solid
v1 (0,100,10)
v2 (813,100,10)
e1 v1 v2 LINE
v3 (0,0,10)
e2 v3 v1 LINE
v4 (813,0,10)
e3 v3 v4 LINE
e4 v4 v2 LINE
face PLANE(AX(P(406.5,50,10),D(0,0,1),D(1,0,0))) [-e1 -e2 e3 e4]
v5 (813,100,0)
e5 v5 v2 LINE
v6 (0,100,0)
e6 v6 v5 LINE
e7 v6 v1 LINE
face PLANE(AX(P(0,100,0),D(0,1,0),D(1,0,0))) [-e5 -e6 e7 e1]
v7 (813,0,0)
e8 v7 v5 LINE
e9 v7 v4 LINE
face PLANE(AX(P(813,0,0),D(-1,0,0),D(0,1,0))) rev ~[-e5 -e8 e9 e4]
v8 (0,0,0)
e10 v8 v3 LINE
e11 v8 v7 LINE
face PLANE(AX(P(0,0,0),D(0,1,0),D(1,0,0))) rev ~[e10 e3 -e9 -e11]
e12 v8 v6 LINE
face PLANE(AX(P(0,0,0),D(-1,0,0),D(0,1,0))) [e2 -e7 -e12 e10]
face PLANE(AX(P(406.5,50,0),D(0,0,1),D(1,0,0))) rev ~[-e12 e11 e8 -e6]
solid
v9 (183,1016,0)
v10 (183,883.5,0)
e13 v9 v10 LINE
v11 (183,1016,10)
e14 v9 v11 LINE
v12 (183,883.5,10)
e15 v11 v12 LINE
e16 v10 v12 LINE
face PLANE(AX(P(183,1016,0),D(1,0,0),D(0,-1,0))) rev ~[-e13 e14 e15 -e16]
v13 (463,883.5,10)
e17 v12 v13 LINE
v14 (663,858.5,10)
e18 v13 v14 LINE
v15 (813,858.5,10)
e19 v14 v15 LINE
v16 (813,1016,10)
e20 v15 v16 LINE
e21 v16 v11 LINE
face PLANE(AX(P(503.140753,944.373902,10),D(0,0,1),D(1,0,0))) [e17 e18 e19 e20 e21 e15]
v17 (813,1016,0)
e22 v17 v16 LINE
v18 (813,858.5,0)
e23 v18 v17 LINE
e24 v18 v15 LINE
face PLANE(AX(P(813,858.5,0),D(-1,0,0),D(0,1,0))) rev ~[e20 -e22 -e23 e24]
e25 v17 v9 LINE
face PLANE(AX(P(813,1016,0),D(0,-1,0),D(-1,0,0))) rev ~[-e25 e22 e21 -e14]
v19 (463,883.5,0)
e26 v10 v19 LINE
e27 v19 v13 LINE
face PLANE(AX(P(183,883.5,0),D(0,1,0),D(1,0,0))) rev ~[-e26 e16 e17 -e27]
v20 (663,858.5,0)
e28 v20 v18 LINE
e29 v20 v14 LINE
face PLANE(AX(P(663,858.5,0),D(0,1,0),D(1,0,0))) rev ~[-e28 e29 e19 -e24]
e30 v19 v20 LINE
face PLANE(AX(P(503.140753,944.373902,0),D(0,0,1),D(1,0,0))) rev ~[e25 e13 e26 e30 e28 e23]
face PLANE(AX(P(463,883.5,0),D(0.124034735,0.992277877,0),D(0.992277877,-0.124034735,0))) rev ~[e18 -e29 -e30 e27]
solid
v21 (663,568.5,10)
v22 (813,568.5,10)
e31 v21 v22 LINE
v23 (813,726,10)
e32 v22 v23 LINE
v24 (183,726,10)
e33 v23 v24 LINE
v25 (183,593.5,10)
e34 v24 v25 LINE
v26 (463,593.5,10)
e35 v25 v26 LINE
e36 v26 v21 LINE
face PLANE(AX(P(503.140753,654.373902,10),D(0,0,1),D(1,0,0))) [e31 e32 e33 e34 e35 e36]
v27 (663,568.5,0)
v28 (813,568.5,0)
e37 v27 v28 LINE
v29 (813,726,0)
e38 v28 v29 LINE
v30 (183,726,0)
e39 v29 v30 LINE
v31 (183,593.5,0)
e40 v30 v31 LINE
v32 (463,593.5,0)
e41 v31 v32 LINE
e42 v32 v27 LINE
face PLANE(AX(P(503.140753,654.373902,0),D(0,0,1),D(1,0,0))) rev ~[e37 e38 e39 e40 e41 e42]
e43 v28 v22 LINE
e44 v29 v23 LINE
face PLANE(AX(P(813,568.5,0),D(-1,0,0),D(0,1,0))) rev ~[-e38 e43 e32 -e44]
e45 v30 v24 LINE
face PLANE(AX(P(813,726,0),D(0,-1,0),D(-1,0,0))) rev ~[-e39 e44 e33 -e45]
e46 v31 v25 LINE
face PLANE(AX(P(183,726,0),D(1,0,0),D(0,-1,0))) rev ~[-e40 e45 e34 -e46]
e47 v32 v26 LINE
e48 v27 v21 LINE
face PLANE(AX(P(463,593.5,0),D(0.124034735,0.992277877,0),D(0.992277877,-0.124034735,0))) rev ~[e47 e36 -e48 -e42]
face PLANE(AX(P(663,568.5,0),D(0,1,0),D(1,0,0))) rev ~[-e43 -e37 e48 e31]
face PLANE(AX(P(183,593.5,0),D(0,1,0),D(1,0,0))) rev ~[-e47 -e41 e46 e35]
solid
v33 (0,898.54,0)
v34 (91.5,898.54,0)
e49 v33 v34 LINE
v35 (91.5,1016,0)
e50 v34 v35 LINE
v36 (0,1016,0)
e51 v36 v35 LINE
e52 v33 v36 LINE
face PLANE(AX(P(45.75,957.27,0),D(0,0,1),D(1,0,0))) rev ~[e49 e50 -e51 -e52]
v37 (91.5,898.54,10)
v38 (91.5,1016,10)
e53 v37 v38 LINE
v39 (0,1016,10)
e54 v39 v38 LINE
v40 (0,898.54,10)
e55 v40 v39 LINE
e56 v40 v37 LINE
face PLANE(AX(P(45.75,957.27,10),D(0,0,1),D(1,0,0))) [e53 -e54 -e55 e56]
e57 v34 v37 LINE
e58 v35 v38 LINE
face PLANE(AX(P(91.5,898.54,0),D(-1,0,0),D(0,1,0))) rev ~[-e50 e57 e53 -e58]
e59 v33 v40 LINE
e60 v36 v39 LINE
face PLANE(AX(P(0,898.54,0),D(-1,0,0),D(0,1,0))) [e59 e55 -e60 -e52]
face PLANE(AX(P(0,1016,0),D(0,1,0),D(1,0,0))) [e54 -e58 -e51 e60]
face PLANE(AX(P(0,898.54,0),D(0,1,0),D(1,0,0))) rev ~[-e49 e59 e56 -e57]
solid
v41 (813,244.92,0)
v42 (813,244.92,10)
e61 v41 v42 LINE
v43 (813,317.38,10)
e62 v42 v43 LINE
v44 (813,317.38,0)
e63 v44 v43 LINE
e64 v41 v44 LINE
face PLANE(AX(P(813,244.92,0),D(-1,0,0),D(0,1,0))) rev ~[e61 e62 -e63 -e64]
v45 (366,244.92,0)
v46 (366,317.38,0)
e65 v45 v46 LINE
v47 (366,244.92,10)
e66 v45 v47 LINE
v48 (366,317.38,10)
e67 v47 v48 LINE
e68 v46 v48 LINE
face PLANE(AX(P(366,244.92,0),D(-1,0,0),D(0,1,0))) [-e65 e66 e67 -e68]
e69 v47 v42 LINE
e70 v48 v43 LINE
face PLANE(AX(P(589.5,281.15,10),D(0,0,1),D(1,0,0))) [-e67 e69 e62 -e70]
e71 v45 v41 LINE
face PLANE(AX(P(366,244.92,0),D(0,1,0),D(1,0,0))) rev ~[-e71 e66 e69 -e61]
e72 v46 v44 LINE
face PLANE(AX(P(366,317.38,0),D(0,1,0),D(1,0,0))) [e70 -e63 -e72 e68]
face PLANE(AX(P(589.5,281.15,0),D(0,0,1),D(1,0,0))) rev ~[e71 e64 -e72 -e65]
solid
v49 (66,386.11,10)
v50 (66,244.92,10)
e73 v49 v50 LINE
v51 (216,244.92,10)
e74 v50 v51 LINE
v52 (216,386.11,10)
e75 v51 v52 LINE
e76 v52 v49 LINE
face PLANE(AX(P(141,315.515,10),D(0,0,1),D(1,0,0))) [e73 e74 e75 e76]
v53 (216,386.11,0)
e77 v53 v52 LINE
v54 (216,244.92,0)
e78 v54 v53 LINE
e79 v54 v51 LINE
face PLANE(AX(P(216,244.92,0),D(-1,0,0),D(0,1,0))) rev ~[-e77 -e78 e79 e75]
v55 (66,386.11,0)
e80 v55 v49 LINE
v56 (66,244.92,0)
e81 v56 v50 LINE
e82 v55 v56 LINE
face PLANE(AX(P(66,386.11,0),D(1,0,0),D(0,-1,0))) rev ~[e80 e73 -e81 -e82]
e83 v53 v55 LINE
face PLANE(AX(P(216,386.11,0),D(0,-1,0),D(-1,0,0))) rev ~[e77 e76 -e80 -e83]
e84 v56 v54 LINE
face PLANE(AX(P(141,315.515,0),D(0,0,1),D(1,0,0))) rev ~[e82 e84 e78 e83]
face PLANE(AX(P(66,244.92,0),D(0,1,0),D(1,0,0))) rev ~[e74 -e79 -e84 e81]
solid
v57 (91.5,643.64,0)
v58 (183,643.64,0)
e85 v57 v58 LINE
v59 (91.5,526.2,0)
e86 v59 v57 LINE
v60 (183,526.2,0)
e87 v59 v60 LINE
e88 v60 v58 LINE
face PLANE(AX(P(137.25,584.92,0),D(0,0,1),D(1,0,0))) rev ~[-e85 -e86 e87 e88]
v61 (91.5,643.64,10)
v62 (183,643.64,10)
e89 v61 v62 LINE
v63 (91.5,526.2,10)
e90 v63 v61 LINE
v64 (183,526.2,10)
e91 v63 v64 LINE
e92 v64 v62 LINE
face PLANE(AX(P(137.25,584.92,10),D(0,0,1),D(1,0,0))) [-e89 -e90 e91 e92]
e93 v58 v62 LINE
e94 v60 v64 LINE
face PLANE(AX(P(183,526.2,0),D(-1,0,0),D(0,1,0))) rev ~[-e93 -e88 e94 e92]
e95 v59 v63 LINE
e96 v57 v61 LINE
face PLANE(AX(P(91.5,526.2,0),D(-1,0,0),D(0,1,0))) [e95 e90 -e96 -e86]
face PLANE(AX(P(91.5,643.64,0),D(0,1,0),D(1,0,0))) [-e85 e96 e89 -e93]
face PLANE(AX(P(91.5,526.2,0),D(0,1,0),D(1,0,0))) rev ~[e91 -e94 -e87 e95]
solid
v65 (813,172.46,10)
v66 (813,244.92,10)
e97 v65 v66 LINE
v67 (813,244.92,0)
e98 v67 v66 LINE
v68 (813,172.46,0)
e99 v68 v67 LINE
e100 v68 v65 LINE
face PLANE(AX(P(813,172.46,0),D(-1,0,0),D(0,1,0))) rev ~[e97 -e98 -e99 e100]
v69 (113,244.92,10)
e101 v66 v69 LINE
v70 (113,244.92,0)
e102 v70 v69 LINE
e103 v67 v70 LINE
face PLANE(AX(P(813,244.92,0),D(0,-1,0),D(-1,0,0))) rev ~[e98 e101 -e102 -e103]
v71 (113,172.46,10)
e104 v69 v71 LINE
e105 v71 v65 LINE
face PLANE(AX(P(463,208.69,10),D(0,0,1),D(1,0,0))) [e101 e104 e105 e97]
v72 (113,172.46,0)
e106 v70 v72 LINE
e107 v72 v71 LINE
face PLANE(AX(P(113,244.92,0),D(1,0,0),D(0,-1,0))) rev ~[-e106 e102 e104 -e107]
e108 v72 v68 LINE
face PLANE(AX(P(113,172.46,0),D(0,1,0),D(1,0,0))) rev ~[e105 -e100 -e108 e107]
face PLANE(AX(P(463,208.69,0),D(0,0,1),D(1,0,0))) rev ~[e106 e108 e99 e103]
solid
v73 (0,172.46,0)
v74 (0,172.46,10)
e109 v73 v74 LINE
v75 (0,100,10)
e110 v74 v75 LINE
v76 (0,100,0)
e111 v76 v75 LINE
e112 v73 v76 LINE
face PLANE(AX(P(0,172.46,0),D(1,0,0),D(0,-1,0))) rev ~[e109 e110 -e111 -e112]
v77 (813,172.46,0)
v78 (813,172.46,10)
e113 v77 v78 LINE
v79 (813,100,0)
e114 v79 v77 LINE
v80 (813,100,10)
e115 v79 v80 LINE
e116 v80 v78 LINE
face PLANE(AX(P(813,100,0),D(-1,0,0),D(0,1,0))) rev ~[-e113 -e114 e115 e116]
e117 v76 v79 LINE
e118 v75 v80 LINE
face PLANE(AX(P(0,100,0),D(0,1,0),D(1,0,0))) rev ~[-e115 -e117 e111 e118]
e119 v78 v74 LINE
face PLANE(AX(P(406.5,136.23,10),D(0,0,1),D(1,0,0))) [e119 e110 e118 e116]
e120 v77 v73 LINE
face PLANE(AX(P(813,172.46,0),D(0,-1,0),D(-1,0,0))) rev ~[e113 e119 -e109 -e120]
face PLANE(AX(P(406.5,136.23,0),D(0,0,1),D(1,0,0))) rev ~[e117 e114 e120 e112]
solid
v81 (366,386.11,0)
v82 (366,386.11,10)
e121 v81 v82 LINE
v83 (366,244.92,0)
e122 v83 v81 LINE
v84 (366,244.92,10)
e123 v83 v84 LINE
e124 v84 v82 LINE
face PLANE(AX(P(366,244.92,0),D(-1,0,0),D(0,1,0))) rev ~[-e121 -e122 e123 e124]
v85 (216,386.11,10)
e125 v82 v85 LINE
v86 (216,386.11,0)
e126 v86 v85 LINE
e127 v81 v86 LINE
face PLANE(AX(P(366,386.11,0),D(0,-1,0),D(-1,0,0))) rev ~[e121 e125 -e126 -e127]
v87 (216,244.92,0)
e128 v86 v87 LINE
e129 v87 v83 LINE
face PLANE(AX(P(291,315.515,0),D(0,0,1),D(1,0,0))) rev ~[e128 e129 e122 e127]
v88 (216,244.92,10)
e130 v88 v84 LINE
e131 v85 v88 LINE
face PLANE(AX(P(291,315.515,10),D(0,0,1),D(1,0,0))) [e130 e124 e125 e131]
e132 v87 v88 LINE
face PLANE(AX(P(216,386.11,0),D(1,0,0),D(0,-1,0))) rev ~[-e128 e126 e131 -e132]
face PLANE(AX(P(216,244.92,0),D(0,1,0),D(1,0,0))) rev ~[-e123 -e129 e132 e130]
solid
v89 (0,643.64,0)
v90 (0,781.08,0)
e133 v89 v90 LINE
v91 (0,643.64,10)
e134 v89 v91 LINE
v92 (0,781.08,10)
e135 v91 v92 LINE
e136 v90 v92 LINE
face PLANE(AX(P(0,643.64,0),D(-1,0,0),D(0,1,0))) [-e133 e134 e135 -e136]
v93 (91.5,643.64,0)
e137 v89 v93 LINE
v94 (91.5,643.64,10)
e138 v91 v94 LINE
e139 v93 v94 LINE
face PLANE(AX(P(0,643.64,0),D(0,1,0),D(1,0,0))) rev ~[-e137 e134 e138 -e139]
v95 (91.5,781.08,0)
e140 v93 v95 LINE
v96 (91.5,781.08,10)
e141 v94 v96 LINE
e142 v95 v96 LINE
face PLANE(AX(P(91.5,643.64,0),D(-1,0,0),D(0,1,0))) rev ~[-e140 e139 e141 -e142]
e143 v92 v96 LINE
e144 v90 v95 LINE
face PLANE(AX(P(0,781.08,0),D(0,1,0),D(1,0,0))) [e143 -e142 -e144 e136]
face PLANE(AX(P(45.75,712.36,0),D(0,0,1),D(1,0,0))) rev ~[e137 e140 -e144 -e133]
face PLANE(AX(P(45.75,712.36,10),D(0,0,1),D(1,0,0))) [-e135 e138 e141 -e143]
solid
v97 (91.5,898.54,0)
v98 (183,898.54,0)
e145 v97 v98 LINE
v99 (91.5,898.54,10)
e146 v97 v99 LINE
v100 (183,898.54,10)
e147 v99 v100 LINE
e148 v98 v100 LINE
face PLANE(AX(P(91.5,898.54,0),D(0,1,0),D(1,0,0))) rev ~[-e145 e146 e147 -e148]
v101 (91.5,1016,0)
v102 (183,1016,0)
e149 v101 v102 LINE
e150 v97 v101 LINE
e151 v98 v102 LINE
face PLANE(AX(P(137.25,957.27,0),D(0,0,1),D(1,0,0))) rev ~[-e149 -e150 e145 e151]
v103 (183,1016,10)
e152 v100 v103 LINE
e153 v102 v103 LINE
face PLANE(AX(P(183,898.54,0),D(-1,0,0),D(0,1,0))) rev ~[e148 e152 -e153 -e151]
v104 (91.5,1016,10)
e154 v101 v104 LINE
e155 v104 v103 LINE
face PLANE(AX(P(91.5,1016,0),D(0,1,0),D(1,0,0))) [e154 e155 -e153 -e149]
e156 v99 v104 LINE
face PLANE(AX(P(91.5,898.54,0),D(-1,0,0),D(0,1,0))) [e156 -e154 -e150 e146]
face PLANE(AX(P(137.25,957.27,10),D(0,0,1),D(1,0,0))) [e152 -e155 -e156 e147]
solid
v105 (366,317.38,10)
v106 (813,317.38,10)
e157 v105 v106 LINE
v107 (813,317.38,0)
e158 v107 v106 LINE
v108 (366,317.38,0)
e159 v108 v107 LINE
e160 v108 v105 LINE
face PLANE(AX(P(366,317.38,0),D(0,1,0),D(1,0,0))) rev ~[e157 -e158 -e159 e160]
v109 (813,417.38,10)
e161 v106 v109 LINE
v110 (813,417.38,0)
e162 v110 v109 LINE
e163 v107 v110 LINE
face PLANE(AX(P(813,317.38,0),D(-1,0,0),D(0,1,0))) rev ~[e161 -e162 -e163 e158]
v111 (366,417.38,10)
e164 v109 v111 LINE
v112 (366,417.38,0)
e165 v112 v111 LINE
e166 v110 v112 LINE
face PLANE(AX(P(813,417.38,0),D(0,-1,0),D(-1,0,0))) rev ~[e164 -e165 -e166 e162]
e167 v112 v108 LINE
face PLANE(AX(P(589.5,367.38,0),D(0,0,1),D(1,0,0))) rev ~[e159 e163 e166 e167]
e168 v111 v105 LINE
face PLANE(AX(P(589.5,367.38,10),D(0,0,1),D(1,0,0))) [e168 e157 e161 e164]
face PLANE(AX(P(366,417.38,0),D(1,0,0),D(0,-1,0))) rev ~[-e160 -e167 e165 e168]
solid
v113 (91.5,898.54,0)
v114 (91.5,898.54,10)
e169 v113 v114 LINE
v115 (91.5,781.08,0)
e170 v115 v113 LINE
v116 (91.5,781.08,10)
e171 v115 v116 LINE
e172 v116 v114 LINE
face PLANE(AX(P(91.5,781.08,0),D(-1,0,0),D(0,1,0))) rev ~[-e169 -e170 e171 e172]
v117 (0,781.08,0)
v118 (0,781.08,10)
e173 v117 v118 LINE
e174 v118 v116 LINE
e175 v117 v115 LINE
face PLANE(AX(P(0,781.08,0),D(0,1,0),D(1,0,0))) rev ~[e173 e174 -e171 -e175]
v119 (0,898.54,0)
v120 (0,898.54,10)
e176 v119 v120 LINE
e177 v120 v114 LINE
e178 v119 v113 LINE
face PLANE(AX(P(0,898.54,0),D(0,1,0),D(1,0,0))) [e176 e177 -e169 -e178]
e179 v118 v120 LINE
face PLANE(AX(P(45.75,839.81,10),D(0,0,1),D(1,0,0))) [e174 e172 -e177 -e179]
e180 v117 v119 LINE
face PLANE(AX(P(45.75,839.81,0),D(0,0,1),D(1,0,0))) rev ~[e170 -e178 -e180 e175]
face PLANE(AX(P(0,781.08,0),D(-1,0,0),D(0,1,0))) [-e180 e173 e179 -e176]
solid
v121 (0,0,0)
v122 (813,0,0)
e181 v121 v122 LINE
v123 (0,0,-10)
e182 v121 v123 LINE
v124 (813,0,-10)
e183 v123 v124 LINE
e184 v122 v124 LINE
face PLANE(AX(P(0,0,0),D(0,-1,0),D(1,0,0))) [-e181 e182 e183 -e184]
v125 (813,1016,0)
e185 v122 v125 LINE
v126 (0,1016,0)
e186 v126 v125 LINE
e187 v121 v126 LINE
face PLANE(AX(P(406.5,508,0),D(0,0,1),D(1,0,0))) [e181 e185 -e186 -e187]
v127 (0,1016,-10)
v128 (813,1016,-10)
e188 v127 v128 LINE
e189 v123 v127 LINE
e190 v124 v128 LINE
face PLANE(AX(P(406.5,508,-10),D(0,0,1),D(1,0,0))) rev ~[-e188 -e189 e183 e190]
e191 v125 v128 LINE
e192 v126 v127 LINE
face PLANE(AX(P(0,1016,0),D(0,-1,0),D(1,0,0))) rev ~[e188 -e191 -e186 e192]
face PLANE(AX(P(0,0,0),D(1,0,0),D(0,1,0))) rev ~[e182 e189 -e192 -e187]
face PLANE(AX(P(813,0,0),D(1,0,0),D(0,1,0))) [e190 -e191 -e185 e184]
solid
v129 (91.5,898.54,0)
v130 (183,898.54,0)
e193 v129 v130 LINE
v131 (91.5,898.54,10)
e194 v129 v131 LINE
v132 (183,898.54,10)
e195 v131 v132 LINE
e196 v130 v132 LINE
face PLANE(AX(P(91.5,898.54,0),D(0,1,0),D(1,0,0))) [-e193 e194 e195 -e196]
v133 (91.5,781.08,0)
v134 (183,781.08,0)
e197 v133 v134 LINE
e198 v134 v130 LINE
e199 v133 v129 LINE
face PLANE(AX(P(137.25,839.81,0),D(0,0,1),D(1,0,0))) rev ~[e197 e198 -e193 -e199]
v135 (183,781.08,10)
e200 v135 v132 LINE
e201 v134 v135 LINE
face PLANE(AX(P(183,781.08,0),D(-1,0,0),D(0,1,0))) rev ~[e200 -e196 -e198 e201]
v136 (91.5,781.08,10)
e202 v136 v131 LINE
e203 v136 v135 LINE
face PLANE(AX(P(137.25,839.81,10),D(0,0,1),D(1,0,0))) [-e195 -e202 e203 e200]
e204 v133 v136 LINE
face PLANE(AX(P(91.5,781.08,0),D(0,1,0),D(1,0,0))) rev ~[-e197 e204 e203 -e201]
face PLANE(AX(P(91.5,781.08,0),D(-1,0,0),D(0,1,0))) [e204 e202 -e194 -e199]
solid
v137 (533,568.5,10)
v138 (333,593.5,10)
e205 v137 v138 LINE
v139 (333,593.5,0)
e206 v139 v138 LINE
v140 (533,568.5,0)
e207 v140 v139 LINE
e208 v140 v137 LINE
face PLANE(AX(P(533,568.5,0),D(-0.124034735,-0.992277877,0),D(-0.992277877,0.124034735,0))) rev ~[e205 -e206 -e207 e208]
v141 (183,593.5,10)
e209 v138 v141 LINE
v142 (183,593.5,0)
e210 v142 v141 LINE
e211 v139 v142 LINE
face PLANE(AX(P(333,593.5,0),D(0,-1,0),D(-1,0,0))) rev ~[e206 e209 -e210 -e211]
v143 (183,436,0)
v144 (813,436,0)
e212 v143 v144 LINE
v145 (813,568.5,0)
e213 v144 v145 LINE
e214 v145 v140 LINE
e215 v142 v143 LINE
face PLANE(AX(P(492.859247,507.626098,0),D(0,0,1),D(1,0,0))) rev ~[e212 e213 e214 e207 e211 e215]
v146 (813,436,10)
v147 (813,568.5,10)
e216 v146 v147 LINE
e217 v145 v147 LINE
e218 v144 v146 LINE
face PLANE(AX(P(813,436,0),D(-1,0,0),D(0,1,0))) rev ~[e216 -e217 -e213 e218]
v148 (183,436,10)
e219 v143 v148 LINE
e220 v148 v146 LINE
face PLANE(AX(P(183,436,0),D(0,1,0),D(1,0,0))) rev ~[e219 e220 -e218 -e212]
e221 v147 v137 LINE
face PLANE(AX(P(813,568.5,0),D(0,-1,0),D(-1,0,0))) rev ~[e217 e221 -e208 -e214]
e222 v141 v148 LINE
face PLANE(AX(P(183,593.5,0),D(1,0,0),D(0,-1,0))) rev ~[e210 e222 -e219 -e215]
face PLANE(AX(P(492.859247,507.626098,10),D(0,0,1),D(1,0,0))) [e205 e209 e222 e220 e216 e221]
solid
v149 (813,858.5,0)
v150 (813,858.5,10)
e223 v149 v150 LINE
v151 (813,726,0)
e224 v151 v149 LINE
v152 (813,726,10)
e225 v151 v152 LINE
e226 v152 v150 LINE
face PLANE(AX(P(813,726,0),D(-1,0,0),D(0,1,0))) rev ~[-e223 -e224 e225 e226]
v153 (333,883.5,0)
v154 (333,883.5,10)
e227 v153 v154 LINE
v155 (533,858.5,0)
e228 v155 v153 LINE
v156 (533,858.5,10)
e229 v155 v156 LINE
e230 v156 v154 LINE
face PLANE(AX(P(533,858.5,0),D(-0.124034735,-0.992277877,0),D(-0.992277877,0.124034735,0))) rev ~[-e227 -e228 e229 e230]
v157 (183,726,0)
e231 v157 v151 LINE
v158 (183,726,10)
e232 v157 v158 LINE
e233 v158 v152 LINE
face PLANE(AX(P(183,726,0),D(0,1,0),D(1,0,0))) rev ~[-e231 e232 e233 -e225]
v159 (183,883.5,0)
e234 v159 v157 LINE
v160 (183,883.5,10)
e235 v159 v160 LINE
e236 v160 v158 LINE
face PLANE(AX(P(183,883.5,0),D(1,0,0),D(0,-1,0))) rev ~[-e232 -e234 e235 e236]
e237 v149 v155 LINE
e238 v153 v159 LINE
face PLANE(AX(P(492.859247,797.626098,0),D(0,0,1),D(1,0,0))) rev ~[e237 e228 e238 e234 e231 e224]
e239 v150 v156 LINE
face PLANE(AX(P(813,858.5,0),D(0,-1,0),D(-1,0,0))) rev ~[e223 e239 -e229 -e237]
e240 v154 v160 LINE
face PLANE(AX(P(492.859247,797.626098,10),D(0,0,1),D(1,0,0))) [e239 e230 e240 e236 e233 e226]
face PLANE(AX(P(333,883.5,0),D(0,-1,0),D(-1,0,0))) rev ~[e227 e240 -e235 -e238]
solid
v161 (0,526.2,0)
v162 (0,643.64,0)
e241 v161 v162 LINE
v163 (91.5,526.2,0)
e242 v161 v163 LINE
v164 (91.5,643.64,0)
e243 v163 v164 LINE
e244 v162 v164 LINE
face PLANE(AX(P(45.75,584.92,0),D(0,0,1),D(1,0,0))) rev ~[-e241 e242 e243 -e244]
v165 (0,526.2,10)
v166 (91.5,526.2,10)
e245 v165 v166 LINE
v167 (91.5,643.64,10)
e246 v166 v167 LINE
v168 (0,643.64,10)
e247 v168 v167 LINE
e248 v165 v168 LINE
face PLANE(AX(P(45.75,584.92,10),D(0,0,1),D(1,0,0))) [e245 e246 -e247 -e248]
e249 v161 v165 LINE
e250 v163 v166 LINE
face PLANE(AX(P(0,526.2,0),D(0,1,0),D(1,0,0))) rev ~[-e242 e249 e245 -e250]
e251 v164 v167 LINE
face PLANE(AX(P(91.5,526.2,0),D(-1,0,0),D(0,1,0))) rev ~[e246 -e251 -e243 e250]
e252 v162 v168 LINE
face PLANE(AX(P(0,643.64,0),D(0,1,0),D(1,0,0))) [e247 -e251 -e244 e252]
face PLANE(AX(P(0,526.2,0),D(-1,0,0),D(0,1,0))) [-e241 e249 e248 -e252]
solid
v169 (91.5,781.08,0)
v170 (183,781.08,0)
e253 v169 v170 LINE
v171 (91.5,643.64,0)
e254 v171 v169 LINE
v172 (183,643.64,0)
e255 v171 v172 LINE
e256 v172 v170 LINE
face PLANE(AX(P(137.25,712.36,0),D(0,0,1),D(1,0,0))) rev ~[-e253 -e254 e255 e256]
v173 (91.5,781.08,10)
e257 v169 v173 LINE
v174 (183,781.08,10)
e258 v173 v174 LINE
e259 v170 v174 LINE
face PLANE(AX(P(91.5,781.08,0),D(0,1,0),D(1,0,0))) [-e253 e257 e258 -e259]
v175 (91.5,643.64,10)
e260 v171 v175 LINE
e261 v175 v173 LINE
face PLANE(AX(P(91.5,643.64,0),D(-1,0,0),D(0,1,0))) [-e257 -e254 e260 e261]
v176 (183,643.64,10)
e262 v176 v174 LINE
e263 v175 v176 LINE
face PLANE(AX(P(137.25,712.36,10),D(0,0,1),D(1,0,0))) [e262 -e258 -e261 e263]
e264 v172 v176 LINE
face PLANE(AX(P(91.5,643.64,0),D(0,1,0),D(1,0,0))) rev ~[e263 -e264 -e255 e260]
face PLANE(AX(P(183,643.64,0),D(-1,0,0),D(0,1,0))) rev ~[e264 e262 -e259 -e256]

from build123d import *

# Parameters (mm, degrees)
BOSS_EXTRUDE2_DEPTH   = 10
SKETCH1_W             = 91.5
SKETCH1_H             = 117.46
BOSS_EXTRUDE2_2_DEPTH = 10
BOSS_EXTRUDE2_3_DEPTH = 10
SKETCH1_H_2           = 117.44
BOSS_EXTRUDE2_4_DEPTH = 10
SKETCH1_W_2           = 447
SKETCH1_H_3           = 100
BOSS_EXTRUDE2_5_DEPTH = 10
SKETCH1_W_3           = 813
SKETCH1_H_4           = 72.46
BOSS_EXTRUDE2_6_DEPTH = 10
SKETCH1_W_4           = 150
SKETCH1_H_5           = 141.19
BOSS_EXTRUDE2_7_DEPTH = 10
SKETCH1_4_W           = 91.5
SKETCH1_4_H           = 117.46
BOSS_EXTRUDE3_DEPTH   = 10
BOSS_EXTRUDE3_2_DEPTH = 10
SKETCH1_4_H_2         = 137.44
BOSS_EXTRUDE3_3_DEPTH = 10
BOSS_EXTRUDE3_4_DEPTH = 10
SKETCH1_4_W_2         = 813
SKETCH1_4_H_3         = 100
BOSS_EXTRUDE3_5_DEPTH = 10
SKETCH1_4_W_3         = 150
SKETCH1_4_H_4         = 141.19
BOSS_EXTRUDE3_6_DEPTH = 10
SKETCH1_5_W           = 91.5
SKETCH1_5_H           = 117.46
BOSS_EXTRUDE4_DEPTH   = 10
SKETCH1_5_H_2         = 117.44
BOSS_EXTRUDE4_2_DEPTH = 10
SKETCH1_5_W_2         = 447
SKETCH1_5_H_3         = 72.46
BOSS_EXTRUDE4_3_DEPTH = 10
SKETCH1_6_W           = 91.5
SKETCH1_6_H           = 117.46
BOSS_EXTRUDE5_DEPTH   = 10
SKETCH1_6_H_2         = 137.44
BOSS_EXTRUDE5_2_DEPTH = 10
SKETCH1_6_W_2         = 700
SKETCH1_6_H_3         = 72.46
BOSS_EXTRUDE5_3_DEPTH = 10
SKETCH1_8_W           = 813
SKETCH1_8_H           = 1016
BOSS_EXTRUDE6_DEPTH   = 10


with BuildPart() as part:
    # Sketch1 → Boss-Extrude2 (new body)
    with BuildSketch(Plane.XY):
        Polygon((813, 1016), (183, 1016), (183, 883.5), (463, 883.5), (663, 858.5), (813, 858.5), align=None)
    extrude(amount=BOSS_EXTRUDE2_DEPTH)


with BuildPart() as body_2:
    # Sketch1 → Boss-Extrude2 2 (new body)
    with BuildSketch(Plane.XY):
        with Locations((45.75, 839.81)):
            Rectangle(SKETCH1_W, SKETCH1_H)
    extrude(amount=BOSS_EXTRUDE2_2_DEPTH)


with BuildPart() as body_3:
    # Sketch1 → Boss-Extrude2 3 (new body)
    with BuildSketch(Plane.XY):
        Polygon((813, 568.5), (813, 726), (183, 726), (183, 593.5), (463, 593.5), (663, 568.5), align=None)
    extrude(amount=BOSS_EXTRUDE2_3_DEPTH)


with BuildPart() as body_4:
    # Sketch1 → Boss-Extrude2 4 (new body)
    with BuildSketch(Plane.XY):
        with Locations((45.75, 584.92)):
            Rectangle(SKETCH1_W, SKETCH1_H_2)
    extrude(amount=BOSS_EXTRUDE2_4_DEPTH)


with BuildPart() as body_5:
    # Sketch1 → Boss-Extrude2 5 (new body)
    with BuildSketch(Plane.XY):
        with Locations((589.5, 367.38)):
            Rectangle(SKETCH1_W_2, SKETCH1_H_3)
    extrude(amount=BOSS_EXTRUDE2_5_DEPTH)


with BuildPart() as body_6:
    # Sketch1 → Boss-Extrude2 6 (new body)
    with BuildSketch(Plane.XY):
        with Locations((406.5, 136.23)):
            Rectangle(SKETCH1_W_3, SKETCH1_H_4)
    extrude(amount=BOSS_EXTRUDE2_6_DEPTH)


with BuildPart() as body_7:
    # Sketch1 → Boss-Extrude2 7 (new body)
    with BuildSketch(Plane.XY):
        with Locations((141, 315.515)):
            Rectangle(SKETCH1_W_4, SKETCH1_H_5)
    extrude(amount=BOSS_EXTRUDE2_7_DEPTH)


with BuildPart() as body_8:
    # Sketch1<4> → Boss-Extrude3 (new body)
    with BuildSketch(Plane.XY):
        with Locations((45.75, 957.27)):
            Rectangle(SKETCH1_4_W, SKETCH1_4_H)
    extrude(amount=BOSS_EXTRUDE3_DEPTH)


with BuildPart() as body_9:
    # Sketch1<4> → Boss-Extrude3 2 (new body)
    with BuildSketch(Plane.XY):
        Polygon((333, 883.5), (183, 883.5), (183, 726), (813, 726), (813, 858.5), (533, 858.5), align=None)
    extrude(amount=BOSS_EXTRUDE3_2_DEPTH)


with BuildPart() as body_10:
    # Sketch1<4> → Boss-Extrude3 3 (new body)
    with BuildSketch(Plane.XY):
        with Locations((45.75, 712.36)):
            Rectangle(SKETCH1_4_W, SKETCH1_4_H_2)
    extrude(amount=BOSS_EXTRUDE3_3_DEPTH)


with BuildPart() as body_11:
    # Sketch1<4> → Boss-Extrude3 4 (new body)
    with BuildSketch(Plane.XY):
        Polygon((813, 436), (813, 568.5), (533, 568.5), (333, 593.5), (183, 593.5), (183, 436), align=None)
    extrude(amount=BOSS_EXTRUDE3_4_DEPTH)


with BuildPart() as body_12:
    # Sketch1<4> → Boss-Extrude3 5 (new body)
    with BuildSketch(Plane.XY):
        with Locations((406.5, 50)):
            Rectangle(SKETCH1_4_W_2, SKETCH1_4_H_3)
    extrude(amount=BOSS_EXTRUDE3_5_DEPTH)


with BuildPart() as body_13:
    # Sketch1<4> → Boss-Extrude3 6 (new body)
    with BuildSketch(Plane.XY):
        with Locations((291, 315.515)):
            Rectangle(SKETCH1_4_W_3, SKETCH1_4_H_4)
    extrude(amount=BOSS_EXTRUDE3_6_DEPTH)


with BuildPart() as body_14:
    # Sketch1<5> → Boss-Extrude4 (new body)
    with BuildSketch(Plane.XY):
        with Locations((137.25, 839.81)):
            Rectangle(SKETCH1_5_W, SKETCH1_5_H)
    extrude(amount=BOSS_EXTRUDE4_DEPTH)


with BuildPart() as body_15:
    # Sketch1<5> → Boss-Extrude4 2 (new body)
    with BuildSketch(Plane.XY):
        with Locations((137.25, 584.92)):
            Rectangle(SKETCH1_5_W, SKETCH1_5_H_2)
    extrude(amount=BOSS_EXTRUDE4_2_DEPTH)


with BuildPart() as body_16:
    # Sketch1<5> → Boss-Extrude4 3 (new body)
    with BuildSketch(Plane.XY):
        with Locations((589.5, 281.15)):
            Rectangle(SKETCH1_5_W_2, SKETCH1_5_H_3)
    extrude(amount=BOSS_EXTRUDE4_3_DEPTH)


with BuildPart() as body_17:
    # Sketch1<6> → Boss-Extrude5 (new body)
    with BuildSketch(Plane.XY):
        with Locations((137.25, 957.27)):
            Rectangle(SKETCH1_6_W, SKETCH1_6_H)
    extrude(amount=BOSS_EXTRUDE5_DEPTH)


with BuildPart() as body_18:
    # Sketch1<6> → Boss-Extrude5 2 (new body)
    with BuildSketch(Plane.XY):
        with Locations((137.25, 712.36)):
            Rectangle(SKETCH1_6_W, SKETCH1_6_H_2)
    extrude(amount=BOSS_EXTRUDE5_2_DEPTH)


with BuildPart() as body_19:
    # Sketch1<6> → Boss-Extrude5 3 (new body)
    with BuildSketch(Plane.XY):
        with Locations((463, 208.69)):
            Rectangle(SKETCH1_6_W_2, SKETCH1_6_H_3)
    extrude(amount=BOSS_EXTRUDE5_3_DEPTH)


with BuildPart() as body_20:
    # Sketch1<8> → Boss-Extrude6 (new body)
    with BuildSketch(Plane.XY):
        with Locations((406.5, 508)):
            Rectangle(SKETCH1_8_W, SKETCH1_8_H)
    extrude(amount=-BOSS_EXTRUDE6_DEPTH)


solid = Compound([part.part, body_2.part, body_3.part, body_4.part, body_5.part, body_6.part, body_7.part, body_8.part, body_9.part, body_10.part, body_11.part, body_12.part, body_13.part, body_14.part, body_15.part, body_16.part, body_17.part, body_18.part, body_19.part, body_20.part])
